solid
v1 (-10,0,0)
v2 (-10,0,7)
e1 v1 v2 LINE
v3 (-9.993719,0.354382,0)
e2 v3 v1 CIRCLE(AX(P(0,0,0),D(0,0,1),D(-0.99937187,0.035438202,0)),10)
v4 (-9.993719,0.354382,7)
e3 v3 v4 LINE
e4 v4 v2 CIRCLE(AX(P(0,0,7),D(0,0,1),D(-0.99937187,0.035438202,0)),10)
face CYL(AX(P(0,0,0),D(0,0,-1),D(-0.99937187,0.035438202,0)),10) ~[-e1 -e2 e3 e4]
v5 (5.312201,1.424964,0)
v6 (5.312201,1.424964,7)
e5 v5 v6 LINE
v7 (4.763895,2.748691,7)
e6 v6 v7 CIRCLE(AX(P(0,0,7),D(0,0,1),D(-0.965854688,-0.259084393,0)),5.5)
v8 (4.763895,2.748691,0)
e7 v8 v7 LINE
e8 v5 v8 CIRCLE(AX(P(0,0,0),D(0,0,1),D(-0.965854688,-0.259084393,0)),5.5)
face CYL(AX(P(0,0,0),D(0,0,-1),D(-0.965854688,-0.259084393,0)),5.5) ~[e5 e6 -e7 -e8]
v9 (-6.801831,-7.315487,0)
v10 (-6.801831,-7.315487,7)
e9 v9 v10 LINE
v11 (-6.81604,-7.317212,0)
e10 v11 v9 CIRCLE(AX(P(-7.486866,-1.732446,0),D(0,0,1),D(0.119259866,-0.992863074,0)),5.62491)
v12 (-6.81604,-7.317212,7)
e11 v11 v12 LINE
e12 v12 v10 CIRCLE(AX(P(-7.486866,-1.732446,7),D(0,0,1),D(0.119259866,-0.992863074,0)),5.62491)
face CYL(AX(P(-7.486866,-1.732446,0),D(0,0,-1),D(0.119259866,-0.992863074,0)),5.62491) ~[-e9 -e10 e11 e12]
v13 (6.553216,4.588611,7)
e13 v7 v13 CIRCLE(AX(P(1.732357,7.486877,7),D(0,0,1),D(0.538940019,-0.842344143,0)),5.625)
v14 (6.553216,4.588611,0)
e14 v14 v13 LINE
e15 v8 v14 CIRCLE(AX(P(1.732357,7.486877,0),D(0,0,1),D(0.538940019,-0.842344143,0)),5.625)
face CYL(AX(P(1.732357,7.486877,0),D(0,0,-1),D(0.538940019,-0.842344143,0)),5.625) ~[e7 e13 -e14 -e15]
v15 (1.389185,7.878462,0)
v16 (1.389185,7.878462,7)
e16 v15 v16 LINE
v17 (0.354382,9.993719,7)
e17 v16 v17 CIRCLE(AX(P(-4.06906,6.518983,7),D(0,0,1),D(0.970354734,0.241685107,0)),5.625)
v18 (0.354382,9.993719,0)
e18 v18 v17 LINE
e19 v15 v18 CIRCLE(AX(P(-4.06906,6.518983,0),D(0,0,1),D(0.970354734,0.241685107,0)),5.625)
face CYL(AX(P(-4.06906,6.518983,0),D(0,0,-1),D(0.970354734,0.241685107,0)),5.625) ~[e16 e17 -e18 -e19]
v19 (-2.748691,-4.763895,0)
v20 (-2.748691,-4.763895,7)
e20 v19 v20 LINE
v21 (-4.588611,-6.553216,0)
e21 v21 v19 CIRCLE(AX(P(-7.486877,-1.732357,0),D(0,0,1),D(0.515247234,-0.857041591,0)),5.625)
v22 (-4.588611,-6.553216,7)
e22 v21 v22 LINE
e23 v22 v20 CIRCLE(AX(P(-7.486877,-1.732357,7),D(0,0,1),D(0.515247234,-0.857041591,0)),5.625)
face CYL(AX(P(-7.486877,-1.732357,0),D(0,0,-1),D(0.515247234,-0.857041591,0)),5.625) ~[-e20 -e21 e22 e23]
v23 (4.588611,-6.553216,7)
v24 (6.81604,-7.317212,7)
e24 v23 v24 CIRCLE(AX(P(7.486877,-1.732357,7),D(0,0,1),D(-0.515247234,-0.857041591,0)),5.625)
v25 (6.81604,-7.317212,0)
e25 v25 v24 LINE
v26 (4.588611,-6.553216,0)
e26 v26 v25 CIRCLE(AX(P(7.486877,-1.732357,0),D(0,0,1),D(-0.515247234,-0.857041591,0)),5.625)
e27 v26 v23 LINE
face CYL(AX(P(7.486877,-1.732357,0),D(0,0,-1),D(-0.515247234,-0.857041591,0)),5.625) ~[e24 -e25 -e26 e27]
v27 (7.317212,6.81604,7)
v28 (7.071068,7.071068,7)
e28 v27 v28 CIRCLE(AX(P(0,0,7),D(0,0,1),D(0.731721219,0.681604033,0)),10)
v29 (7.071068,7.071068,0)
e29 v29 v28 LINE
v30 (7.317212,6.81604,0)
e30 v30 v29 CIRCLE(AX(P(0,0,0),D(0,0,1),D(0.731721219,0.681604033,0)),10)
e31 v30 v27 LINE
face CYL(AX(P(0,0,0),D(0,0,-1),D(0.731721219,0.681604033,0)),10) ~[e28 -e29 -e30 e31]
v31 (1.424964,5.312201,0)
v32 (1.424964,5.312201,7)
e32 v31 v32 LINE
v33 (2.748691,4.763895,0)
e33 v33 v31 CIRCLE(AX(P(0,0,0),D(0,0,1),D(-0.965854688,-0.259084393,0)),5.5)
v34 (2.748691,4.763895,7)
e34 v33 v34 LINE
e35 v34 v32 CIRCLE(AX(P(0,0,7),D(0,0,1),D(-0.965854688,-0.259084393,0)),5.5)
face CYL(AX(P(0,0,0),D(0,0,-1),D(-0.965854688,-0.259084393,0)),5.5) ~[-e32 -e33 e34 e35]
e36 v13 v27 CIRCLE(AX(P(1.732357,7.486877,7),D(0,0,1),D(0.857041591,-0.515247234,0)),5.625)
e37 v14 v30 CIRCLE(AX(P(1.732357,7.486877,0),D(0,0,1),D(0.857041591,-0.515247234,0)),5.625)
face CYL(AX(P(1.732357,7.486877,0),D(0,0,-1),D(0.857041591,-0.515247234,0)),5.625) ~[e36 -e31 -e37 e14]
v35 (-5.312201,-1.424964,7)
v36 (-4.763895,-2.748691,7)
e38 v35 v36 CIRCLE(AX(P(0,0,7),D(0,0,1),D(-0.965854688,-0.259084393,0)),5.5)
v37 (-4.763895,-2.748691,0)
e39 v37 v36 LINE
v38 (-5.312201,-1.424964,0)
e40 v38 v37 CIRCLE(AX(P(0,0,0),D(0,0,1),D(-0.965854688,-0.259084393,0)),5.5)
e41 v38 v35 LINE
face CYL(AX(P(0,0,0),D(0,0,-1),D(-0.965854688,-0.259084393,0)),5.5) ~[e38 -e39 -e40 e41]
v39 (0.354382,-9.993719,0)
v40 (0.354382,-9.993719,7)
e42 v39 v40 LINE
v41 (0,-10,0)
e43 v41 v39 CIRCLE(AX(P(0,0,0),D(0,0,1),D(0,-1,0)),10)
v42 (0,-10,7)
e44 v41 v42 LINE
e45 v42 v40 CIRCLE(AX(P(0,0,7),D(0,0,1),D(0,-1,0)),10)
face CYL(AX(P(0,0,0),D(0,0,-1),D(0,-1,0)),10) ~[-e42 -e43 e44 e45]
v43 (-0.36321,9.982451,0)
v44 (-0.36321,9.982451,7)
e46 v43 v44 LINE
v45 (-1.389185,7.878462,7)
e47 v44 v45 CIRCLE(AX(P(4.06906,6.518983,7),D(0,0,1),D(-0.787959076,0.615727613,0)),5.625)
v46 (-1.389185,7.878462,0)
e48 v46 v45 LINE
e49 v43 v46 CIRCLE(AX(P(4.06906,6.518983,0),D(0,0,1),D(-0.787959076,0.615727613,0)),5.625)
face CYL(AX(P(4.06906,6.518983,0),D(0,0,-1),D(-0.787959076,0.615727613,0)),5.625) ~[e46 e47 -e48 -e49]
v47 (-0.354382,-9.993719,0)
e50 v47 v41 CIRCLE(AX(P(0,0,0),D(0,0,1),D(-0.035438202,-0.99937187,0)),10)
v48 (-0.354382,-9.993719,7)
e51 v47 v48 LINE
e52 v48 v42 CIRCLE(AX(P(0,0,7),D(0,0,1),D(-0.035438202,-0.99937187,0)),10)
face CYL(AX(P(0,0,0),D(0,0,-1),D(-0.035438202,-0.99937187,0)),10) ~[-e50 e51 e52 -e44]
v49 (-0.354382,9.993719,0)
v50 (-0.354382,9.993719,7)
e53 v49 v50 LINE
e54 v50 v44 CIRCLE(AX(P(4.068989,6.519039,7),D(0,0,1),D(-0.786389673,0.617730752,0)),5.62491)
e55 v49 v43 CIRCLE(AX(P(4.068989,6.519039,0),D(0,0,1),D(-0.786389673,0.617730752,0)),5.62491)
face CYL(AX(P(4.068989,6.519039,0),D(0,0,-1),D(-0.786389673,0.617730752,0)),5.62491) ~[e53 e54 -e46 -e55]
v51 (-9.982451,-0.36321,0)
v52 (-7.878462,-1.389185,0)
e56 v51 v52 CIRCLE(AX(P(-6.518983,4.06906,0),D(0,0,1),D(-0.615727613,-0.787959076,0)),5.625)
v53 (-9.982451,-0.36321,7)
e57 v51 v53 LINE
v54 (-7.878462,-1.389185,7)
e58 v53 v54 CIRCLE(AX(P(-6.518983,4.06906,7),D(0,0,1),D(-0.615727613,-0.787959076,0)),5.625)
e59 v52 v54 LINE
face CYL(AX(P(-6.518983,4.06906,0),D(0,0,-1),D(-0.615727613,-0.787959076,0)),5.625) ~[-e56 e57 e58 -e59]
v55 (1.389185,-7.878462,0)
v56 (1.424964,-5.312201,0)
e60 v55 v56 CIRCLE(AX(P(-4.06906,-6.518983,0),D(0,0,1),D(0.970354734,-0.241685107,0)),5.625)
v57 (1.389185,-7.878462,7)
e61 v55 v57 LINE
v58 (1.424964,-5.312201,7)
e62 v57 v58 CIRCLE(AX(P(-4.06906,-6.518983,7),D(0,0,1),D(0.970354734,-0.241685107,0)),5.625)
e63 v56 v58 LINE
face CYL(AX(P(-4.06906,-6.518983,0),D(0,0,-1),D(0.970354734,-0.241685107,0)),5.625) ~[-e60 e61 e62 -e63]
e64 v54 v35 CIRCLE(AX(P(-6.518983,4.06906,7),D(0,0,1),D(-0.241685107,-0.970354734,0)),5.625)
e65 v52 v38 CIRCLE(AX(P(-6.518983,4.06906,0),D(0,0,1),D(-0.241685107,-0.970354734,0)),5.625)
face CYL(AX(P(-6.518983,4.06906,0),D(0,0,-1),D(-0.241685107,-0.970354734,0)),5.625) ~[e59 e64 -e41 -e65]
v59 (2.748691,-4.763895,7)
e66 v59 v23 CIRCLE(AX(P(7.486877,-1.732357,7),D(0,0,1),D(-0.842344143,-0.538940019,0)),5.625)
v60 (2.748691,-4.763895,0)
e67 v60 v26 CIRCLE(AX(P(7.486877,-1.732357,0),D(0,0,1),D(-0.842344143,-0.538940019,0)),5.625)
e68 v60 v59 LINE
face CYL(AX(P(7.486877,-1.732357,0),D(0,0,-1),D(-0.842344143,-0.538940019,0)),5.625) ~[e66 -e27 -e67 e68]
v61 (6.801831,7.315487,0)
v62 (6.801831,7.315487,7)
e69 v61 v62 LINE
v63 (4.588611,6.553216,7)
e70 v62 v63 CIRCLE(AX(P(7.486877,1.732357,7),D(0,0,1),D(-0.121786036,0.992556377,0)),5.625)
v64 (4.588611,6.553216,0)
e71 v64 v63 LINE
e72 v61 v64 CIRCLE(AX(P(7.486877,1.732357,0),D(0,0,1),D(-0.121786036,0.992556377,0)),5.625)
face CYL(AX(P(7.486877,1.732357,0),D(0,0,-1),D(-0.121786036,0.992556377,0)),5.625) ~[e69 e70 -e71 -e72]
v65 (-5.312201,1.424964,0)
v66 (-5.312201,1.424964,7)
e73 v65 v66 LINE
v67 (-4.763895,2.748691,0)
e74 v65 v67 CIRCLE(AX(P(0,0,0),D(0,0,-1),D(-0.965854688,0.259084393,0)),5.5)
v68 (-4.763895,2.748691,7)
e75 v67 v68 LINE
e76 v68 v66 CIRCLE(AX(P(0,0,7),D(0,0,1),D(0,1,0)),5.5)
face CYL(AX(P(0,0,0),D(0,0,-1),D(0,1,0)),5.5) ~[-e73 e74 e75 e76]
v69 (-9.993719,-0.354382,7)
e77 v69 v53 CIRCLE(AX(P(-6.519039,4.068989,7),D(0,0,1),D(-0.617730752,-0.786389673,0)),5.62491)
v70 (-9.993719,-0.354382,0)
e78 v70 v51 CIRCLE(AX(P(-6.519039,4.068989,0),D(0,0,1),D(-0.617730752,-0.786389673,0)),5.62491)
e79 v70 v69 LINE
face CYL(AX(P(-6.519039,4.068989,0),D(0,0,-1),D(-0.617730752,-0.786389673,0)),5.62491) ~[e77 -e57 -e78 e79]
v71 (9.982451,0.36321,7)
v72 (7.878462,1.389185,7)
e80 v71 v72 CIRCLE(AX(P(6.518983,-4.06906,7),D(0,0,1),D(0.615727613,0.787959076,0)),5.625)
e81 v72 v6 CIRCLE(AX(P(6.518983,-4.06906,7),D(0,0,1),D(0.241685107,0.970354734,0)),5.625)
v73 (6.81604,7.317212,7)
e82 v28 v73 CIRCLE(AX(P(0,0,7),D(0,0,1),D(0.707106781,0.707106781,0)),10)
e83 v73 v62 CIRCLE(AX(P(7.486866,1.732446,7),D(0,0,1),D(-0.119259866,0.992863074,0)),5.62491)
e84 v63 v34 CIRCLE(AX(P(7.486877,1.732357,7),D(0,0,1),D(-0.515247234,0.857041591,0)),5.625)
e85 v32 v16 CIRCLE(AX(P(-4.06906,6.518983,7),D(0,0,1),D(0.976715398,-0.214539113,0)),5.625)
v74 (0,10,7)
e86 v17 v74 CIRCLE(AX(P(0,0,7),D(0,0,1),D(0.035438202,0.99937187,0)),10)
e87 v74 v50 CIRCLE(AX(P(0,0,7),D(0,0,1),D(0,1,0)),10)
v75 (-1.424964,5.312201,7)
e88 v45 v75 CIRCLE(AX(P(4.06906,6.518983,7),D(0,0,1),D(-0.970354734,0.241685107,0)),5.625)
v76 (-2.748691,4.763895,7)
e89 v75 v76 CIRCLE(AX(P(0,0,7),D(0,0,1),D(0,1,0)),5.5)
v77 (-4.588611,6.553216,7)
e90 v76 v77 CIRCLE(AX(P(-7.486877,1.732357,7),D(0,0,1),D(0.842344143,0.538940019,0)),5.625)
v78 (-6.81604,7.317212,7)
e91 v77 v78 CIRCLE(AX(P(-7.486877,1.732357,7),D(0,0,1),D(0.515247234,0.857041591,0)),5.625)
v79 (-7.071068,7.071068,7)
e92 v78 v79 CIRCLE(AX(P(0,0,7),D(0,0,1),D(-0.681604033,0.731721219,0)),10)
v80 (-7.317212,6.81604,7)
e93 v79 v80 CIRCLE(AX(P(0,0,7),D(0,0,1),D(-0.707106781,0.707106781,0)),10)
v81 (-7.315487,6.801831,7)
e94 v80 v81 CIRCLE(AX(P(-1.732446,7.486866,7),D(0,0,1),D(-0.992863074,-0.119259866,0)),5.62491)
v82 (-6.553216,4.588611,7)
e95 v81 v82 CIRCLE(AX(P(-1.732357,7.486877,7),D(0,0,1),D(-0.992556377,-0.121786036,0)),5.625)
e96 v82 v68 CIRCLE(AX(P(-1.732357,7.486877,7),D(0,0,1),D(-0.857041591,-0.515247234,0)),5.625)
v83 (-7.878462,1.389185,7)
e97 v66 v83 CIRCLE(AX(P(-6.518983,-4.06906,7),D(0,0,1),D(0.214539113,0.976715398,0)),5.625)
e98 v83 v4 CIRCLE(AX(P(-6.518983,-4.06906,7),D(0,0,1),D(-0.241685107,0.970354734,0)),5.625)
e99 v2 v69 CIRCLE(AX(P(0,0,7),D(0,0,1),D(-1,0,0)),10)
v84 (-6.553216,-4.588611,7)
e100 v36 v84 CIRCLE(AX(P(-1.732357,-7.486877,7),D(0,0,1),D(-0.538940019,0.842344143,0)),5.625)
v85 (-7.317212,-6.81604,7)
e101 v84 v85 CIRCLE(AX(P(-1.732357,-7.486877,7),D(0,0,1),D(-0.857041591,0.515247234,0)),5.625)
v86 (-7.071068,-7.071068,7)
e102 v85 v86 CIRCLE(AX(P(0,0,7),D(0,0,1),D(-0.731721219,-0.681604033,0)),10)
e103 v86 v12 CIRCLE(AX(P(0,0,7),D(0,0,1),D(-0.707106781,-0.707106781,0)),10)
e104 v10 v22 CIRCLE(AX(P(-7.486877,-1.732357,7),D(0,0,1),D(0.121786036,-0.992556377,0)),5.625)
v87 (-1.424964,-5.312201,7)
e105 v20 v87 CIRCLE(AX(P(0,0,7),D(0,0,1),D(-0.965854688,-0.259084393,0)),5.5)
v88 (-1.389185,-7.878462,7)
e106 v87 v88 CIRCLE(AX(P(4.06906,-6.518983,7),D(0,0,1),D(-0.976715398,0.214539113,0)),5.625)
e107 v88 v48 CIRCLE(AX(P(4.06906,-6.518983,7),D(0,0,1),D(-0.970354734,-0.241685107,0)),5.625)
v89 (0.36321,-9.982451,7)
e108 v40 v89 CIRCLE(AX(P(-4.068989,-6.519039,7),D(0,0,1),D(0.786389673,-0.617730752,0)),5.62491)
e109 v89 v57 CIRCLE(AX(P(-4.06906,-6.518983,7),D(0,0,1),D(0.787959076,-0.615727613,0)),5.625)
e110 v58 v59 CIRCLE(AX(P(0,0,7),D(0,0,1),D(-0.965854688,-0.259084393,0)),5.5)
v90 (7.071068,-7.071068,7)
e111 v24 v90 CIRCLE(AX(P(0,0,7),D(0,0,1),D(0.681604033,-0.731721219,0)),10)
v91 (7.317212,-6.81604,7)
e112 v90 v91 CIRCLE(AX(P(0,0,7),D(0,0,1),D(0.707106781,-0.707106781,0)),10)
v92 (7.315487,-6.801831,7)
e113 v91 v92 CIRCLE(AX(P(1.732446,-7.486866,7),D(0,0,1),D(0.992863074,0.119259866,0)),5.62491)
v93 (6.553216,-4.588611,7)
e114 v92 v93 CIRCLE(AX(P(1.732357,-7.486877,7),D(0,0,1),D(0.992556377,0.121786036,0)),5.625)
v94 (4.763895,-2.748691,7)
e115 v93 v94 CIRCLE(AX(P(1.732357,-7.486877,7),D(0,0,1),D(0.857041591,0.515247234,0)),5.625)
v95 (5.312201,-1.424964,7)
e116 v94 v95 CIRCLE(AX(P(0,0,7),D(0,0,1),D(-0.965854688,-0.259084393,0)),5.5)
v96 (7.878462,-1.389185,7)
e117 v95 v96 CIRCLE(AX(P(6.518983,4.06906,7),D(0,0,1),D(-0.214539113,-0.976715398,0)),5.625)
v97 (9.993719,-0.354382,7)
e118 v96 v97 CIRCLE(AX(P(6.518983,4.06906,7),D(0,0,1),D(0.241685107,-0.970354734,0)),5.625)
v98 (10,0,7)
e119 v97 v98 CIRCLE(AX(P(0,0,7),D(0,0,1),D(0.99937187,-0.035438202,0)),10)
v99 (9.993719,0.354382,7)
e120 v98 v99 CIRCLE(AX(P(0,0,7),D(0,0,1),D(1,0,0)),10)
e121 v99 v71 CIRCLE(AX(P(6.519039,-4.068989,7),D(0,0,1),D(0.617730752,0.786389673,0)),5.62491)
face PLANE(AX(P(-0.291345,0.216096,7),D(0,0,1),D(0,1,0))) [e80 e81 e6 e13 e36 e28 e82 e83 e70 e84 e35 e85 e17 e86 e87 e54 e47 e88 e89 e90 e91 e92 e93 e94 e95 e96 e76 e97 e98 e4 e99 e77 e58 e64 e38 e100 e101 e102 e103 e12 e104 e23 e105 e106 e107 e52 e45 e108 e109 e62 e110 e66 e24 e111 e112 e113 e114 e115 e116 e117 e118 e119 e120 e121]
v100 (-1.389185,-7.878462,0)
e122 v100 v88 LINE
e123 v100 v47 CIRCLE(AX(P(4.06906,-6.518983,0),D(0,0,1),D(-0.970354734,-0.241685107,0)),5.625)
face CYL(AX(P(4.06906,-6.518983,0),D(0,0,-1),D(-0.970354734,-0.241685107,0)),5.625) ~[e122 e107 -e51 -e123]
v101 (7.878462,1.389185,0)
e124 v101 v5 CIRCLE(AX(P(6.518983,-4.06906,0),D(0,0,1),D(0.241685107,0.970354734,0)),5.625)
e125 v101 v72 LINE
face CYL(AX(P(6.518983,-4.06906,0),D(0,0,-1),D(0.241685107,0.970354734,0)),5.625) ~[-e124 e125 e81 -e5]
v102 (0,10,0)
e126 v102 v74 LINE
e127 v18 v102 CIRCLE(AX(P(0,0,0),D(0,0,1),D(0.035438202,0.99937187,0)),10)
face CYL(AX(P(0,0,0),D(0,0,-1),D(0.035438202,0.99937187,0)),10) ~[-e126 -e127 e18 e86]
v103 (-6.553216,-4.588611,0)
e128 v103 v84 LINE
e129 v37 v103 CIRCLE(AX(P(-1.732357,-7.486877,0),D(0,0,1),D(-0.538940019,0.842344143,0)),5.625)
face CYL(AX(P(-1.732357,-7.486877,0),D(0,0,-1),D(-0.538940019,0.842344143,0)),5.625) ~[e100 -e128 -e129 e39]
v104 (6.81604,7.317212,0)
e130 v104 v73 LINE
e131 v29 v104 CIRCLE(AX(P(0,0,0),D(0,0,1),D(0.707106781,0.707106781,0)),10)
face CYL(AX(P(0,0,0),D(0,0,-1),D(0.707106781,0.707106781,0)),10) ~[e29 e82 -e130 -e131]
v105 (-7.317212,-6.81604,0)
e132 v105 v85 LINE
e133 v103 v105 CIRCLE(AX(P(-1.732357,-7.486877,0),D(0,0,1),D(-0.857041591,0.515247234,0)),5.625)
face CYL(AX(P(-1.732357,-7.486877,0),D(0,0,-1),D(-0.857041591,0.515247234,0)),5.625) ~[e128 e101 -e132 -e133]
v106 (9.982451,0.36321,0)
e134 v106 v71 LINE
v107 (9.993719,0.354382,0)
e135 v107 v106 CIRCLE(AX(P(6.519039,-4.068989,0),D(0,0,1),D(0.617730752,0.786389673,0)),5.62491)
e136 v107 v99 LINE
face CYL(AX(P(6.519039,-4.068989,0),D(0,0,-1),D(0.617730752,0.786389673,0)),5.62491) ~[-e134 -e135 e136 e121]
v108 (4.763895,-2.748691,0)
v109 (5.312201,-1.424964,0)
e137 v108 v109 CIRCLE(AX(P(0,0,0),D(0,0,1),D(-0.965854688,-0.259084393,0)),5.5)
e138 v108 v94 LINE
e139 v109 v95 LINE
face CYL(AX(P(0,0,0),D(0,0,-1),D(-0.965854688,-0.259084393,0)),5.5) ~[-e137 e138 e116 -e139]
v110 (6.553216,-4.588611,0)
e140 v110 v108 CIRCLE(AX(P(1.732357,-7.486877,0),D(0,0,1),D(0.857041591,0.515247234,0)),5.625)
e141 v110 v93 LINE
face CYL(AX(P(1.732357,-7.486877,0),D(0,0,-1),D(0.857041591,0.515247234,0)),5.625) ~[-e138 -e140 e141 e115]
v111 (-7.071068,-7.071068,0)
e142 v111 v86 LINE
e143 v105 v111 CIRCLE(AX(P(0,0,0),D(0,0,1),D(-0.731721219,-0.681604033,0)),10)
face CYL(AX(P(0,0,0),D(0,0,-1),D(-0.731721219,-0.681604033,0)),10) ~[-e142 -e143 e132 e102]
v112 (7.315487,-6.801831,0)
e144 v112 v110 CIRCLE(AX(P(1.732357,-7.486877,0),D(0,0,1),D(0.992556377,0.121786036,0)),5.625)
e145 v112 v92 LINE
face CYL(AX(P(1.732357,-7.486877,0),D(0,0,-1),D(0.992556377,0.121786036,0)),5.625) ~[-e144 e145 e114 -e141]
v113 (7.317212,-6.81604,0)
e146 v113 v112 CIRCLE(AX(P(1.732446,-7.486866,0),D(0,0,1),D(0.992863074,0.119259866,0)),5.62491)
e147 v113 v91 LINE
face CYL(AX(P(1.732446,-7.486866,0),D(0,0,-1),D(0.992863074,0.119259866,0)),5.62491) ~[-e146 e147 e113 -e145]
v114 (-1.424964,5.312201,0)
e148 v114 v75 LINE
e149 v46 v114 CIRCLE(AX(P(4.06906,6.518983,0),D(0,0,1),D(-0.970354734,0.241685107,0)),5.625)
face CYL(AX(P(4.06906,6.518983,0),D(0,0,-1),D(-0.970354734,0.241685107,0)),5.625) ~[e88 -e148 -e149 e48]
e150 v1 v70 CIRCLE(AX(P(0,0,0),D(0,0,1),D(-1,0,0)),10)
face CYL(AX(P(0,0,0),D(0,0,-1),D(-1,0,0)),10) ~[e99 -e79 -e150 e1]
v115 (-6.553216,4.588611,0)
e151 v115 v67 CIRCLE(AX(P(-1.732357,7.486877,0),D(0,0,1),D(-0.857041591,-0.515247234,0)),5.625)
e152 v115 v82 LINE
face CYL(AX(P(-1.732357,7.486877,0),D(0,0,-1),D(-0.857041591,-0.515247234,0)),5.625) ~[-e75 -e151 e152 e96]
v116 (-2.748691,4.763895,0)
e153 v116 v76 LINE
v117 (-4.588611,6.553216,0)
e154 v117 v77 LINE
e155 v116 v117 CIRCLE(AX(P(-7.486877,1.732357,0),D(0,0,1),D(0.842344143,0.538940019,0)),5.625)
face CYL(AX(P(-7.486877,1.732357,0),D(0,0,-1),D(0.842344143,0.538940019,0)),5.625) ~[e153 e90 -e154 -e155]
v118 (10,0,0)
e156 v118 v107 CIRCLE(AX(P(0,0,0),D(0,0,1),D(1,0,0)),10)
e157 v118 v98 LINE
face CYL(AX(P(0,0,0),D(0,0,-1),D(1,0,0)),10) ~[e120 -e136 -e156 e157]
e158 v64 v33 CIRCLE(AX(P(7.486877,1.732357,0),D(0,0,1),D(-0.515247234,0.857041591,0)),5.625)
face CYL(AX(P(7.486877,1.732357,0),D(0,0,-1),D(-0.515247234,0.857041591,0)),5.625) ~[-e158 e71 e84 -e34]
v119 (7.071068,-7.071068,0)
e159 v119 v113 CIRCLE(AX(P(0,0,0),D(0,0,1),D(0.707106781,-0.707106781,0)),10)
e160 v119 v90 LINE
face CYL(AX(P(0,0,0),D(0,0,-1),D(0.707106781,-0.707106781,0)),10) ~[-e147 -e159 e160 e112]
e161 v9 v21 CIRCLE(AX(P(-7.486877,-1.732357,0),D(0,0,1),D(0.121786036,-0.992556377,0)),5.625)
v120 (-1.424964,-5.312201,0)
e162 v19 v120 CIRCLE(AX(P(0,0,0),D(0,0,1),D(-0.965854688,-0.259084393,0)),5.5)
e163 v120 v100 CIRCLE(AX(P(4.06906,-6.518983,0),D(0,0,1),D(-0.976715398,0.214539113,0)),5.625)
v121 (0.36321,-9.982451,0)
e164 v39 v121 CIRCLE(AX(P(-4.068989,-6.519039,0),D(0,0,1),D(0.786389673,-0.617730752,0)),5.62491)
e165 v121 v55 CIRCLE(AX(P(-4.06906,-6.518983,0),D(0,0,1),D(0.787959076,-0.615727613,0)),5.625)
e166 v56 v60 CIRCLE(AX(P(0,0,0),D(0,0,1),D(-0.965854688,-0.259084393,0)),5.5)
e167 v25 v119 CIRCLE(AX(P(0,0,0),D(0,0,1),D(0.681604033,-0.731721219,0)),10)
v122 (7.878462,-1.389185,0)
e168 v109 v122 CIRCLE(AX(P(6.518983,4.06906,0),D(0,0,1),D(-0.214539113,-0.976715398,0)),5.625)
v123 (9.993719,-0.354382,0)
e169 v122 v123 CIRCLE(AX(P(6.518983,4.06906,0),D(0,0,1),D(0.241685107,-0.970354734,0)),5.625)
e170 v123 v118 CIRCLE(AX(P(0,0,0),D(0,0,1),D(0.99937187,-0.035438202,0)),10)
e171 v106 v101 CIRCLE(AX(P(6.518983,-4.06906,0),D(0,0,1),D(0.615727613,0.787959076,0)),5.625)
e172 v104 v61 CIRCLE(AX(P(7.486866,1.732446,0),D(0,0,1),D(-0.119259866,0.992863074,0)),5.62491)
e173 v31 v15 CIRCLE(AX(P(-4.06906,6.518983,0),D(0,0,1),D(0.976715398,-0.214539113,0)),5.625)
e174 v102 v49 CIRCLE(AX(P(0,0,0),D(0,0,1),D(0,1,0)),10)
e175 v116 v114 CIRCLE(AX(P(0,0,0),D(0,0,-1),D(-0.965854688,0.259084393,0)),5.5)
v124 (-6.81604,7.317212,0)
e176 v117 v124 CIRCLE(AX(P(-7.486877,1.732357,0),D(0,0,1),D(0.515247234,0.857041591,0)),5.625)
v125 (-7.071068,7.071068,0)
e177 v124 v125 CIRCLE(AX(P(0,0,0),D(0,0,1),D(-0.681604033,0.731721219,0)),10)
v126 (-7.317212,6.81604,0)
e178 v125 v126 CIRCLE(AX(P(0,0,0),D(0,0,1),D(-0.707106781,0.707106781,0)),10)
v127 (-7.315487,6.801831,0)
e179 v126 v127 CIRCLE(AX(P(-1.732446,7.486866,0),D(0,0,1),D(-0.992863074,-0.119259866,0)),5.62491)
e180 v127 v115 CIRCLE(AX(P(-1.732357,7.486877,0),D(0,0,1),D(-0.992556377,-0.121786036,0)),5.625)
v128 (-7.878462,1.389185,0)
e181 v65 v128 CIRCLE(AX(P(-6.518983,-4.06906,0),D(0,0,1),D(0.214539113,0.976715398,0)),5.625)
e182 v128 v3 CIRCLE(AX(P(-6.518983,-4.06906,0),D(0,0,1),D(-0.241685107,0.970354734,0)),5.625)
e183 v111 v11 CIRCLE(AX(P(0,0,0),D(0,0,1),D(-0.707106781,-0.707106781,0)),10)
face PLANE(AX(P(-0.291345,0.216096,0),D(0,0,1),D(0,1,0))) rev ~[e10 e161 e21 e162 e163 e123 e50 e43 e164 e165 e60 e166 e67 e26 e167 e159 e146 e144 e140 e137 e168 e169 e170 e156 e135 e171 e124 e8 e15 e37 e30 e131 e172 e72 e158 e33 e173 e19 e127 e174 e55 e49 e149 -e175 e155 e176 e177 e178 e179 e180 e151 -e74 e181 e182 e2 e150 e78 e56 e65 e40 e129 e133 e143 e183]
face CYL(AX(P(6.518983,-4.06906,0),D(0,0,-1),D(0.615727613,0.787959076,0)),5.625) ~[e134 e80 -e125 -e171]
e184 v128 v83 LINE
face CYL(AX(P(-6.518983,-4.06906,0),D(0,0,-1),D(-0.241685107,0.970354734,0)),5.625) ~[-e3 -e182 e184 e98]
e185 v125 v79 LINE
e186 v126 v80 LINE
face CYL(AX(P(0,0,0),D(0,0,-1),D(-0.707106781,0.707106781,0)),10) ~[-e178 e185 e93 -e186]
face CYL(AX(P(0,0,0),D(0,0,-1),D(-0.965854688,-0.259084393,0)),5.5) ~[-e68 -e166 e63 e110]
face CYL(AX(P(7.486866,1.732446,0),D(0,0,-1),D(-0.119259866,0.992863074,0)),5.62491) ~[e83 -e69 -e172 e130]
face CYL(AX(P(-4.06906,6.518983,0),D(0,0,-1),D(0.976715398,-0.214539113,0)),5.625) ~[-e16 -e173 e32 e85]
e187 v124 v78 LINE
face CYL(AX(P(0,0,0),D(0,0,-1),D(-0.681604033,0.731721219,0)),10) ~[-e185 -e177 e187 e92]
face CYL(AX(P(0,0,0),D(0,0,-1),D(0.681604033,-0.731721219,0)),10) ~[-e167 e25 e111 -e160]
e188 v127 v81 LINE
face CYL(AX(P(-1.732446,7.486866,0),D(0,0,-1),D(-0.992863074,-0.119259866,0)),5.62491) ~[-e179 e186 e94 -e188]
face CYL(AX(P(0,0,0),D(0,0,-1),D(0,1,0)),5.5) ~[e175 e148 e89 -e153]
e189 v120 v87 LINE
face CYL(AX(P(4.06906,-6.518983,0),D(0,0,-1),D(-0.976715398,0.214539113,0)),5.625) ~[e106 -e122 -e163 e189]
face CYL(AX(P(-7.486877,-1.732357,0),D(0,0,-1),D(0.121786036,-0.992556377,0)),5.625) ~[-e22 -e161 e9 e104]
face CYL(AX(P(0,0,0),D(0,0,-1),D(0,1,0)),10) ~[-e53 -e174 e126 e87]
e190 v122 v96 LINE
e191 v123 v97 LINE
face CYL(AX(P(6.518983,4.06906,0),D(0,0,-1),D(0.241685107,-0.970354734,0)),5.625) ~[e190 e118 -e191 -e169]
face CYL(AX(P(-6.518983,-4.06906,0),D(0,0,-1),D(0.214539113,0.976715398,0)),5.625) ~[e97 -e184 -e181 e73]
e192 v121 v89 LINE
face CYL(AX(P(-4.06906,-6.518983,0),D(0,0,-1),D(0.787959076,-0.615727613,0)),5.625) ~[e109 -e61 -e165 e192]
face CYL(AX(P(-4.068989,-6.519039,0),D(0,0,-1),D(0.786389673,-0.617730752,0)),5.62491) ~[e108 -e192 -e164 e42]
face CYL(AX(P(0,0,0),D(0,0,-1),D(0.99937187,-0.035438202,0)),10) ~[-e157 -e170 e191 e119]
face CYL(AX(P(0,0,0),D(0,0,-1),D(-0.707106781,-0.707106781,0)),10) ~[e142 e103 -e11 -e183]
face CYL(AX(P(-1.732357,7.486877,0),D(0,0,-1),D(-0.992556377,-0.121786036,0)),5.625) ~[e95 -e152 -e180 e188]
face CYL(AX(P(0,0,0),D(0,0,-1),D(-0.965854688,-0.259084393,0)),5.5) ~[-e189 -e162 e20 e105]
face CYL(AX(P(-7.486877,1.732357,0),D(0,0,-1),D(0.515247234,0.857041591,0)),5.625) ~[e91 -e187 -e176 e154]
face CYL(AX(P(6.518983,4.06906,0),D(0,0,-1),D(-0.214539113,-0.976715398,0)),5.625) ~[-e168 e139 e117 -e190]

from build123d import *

# Parameters (mm, degrees)
F1_DEPTH = 7
F3_COUNT = 8
F3_ANGLE = 315


with BuildPart() as f1:
    # F0 (on Top) → F1 (new body)
    with BuildSketch(Plane.XY):
        with BuildLine():
            ThreePointArc((-1.4249641593, 5.3122007817), (-3.3475884696, -4.3639032343), (5.5, 0))
            ThreePointArc((5.5, 0), (4.3639032343, 3.3475884696), (1.4249641593, 5.3122007817))
            ThreePointArc((1.4249641593, 5.3122007817), (0, 5.5), (-1.4249641593, 5.3122007817))
        make_face()
        with BuildLine():
            ThreePointArc((-1.4249641593, 5.3122007817), (0, 5.5), (1.4249641593, 5.3122007817))
            ThreePointArc((1.4249641593, 5.3122007817), (1.5553934353, 6.597399257), (1.3891854213, 7.8784620241))
            ThreePointArc((1.3891854213, 7.8784620241), (0.9837129389, 8.990847184), (0.3543820184, 9.9937186965))
            ThreePointArc((0.3543820184, 9.9937186965), (0.1772188405, 9.9984295508), (0, 10))
            ThreePointArc((0, 10), (-0.1772188405, 9.9984295508), (-0.3543820184, 9.9937186965))
            ThreePointArc((-0.3543820184, 9.9937186965), (-0.3587995186, 9.9880877162), (-0.3632098505, 9.9824511198))
            ThreePointArc((-0.3632098505, 9.9824511198), (-0.9868539257, 8.9844162861), (-1.3891854213, 7.8784620241))
            ThreePointArc((-1.3891854213, 7.8784620241), (-1.5553934353, 6.597399257), (-1.4249641593, 5.3122007817))
        make_face()
    extrude(amount=F1_DEPTH)


with BuildPart() as f3_1:
    # F3: instance of F1
    add(f1.part.rotate(Axis((0, 0, 21.9664014876), (0, 0, -1)), 1 * F3_ANGLE / (F3_COUNT - 1)))


with BuildPart() as f3_2:
    # F3: instance of F1
    add(f1.part.rotate(Axis((0, 0, 21.9664014876), (0, 0, -1)), 2 * F3_ANGLE / (F3_COUNT - 1)))


with BuildPart() as f3_3:
    # F3: instance of F1
    add(f1.part.rotate(Axis((0, 0, 21.9664014876), (0, 0, -1)), 3 * F3_ANGLE / (F3_COUNT - 1)))


with BuildPart() as f3_4:
    # F3: instance of F1
    add(f1.part.rotate(Axis((0, 0, 21.9664014876), (0, 0, -1)), 4 * F3_ANGLE / (F3_COUNT - 1)))


with BuildPart() as f3_5:
    # F3: instance of F1
    add(f1.part.rotate(Axis((0, 0, 21.9664014876), (0, 0, -1)), 5 * F3_ANGLE / (F3_COUNT - 1)))


with BuildPart() as f3_6:
    # F3: instance of F1
    add(f1.part.rotate(Axis((0, 0, 21.9664014876), (0, 0, -1)), 6 * F3_ANGLE / (F3_COUNT - 1)))


with BuildPart() as f3_7:
    # F3: instance of F1
    add(f1.part.rotate(Axis((0, 0, 21.9664014876), (0, 0, -1)), 7 * F3_ANGLE / (F3_COUNT - 1)))


with BuildPart() as f3_6_1:
    add(f3_6.part)

    # F4: union F3_5, F3_4, F3_3, F3_2, F3_1, F1, F3_7
    add(f3_5.part)
    add(f3_4.part)
    add(f3_3.part)
    add(f3_2.part)
    add(f3_1.part)
    add(f1.part)
    add(f3_7.part)


solid = f3_6_1.part
